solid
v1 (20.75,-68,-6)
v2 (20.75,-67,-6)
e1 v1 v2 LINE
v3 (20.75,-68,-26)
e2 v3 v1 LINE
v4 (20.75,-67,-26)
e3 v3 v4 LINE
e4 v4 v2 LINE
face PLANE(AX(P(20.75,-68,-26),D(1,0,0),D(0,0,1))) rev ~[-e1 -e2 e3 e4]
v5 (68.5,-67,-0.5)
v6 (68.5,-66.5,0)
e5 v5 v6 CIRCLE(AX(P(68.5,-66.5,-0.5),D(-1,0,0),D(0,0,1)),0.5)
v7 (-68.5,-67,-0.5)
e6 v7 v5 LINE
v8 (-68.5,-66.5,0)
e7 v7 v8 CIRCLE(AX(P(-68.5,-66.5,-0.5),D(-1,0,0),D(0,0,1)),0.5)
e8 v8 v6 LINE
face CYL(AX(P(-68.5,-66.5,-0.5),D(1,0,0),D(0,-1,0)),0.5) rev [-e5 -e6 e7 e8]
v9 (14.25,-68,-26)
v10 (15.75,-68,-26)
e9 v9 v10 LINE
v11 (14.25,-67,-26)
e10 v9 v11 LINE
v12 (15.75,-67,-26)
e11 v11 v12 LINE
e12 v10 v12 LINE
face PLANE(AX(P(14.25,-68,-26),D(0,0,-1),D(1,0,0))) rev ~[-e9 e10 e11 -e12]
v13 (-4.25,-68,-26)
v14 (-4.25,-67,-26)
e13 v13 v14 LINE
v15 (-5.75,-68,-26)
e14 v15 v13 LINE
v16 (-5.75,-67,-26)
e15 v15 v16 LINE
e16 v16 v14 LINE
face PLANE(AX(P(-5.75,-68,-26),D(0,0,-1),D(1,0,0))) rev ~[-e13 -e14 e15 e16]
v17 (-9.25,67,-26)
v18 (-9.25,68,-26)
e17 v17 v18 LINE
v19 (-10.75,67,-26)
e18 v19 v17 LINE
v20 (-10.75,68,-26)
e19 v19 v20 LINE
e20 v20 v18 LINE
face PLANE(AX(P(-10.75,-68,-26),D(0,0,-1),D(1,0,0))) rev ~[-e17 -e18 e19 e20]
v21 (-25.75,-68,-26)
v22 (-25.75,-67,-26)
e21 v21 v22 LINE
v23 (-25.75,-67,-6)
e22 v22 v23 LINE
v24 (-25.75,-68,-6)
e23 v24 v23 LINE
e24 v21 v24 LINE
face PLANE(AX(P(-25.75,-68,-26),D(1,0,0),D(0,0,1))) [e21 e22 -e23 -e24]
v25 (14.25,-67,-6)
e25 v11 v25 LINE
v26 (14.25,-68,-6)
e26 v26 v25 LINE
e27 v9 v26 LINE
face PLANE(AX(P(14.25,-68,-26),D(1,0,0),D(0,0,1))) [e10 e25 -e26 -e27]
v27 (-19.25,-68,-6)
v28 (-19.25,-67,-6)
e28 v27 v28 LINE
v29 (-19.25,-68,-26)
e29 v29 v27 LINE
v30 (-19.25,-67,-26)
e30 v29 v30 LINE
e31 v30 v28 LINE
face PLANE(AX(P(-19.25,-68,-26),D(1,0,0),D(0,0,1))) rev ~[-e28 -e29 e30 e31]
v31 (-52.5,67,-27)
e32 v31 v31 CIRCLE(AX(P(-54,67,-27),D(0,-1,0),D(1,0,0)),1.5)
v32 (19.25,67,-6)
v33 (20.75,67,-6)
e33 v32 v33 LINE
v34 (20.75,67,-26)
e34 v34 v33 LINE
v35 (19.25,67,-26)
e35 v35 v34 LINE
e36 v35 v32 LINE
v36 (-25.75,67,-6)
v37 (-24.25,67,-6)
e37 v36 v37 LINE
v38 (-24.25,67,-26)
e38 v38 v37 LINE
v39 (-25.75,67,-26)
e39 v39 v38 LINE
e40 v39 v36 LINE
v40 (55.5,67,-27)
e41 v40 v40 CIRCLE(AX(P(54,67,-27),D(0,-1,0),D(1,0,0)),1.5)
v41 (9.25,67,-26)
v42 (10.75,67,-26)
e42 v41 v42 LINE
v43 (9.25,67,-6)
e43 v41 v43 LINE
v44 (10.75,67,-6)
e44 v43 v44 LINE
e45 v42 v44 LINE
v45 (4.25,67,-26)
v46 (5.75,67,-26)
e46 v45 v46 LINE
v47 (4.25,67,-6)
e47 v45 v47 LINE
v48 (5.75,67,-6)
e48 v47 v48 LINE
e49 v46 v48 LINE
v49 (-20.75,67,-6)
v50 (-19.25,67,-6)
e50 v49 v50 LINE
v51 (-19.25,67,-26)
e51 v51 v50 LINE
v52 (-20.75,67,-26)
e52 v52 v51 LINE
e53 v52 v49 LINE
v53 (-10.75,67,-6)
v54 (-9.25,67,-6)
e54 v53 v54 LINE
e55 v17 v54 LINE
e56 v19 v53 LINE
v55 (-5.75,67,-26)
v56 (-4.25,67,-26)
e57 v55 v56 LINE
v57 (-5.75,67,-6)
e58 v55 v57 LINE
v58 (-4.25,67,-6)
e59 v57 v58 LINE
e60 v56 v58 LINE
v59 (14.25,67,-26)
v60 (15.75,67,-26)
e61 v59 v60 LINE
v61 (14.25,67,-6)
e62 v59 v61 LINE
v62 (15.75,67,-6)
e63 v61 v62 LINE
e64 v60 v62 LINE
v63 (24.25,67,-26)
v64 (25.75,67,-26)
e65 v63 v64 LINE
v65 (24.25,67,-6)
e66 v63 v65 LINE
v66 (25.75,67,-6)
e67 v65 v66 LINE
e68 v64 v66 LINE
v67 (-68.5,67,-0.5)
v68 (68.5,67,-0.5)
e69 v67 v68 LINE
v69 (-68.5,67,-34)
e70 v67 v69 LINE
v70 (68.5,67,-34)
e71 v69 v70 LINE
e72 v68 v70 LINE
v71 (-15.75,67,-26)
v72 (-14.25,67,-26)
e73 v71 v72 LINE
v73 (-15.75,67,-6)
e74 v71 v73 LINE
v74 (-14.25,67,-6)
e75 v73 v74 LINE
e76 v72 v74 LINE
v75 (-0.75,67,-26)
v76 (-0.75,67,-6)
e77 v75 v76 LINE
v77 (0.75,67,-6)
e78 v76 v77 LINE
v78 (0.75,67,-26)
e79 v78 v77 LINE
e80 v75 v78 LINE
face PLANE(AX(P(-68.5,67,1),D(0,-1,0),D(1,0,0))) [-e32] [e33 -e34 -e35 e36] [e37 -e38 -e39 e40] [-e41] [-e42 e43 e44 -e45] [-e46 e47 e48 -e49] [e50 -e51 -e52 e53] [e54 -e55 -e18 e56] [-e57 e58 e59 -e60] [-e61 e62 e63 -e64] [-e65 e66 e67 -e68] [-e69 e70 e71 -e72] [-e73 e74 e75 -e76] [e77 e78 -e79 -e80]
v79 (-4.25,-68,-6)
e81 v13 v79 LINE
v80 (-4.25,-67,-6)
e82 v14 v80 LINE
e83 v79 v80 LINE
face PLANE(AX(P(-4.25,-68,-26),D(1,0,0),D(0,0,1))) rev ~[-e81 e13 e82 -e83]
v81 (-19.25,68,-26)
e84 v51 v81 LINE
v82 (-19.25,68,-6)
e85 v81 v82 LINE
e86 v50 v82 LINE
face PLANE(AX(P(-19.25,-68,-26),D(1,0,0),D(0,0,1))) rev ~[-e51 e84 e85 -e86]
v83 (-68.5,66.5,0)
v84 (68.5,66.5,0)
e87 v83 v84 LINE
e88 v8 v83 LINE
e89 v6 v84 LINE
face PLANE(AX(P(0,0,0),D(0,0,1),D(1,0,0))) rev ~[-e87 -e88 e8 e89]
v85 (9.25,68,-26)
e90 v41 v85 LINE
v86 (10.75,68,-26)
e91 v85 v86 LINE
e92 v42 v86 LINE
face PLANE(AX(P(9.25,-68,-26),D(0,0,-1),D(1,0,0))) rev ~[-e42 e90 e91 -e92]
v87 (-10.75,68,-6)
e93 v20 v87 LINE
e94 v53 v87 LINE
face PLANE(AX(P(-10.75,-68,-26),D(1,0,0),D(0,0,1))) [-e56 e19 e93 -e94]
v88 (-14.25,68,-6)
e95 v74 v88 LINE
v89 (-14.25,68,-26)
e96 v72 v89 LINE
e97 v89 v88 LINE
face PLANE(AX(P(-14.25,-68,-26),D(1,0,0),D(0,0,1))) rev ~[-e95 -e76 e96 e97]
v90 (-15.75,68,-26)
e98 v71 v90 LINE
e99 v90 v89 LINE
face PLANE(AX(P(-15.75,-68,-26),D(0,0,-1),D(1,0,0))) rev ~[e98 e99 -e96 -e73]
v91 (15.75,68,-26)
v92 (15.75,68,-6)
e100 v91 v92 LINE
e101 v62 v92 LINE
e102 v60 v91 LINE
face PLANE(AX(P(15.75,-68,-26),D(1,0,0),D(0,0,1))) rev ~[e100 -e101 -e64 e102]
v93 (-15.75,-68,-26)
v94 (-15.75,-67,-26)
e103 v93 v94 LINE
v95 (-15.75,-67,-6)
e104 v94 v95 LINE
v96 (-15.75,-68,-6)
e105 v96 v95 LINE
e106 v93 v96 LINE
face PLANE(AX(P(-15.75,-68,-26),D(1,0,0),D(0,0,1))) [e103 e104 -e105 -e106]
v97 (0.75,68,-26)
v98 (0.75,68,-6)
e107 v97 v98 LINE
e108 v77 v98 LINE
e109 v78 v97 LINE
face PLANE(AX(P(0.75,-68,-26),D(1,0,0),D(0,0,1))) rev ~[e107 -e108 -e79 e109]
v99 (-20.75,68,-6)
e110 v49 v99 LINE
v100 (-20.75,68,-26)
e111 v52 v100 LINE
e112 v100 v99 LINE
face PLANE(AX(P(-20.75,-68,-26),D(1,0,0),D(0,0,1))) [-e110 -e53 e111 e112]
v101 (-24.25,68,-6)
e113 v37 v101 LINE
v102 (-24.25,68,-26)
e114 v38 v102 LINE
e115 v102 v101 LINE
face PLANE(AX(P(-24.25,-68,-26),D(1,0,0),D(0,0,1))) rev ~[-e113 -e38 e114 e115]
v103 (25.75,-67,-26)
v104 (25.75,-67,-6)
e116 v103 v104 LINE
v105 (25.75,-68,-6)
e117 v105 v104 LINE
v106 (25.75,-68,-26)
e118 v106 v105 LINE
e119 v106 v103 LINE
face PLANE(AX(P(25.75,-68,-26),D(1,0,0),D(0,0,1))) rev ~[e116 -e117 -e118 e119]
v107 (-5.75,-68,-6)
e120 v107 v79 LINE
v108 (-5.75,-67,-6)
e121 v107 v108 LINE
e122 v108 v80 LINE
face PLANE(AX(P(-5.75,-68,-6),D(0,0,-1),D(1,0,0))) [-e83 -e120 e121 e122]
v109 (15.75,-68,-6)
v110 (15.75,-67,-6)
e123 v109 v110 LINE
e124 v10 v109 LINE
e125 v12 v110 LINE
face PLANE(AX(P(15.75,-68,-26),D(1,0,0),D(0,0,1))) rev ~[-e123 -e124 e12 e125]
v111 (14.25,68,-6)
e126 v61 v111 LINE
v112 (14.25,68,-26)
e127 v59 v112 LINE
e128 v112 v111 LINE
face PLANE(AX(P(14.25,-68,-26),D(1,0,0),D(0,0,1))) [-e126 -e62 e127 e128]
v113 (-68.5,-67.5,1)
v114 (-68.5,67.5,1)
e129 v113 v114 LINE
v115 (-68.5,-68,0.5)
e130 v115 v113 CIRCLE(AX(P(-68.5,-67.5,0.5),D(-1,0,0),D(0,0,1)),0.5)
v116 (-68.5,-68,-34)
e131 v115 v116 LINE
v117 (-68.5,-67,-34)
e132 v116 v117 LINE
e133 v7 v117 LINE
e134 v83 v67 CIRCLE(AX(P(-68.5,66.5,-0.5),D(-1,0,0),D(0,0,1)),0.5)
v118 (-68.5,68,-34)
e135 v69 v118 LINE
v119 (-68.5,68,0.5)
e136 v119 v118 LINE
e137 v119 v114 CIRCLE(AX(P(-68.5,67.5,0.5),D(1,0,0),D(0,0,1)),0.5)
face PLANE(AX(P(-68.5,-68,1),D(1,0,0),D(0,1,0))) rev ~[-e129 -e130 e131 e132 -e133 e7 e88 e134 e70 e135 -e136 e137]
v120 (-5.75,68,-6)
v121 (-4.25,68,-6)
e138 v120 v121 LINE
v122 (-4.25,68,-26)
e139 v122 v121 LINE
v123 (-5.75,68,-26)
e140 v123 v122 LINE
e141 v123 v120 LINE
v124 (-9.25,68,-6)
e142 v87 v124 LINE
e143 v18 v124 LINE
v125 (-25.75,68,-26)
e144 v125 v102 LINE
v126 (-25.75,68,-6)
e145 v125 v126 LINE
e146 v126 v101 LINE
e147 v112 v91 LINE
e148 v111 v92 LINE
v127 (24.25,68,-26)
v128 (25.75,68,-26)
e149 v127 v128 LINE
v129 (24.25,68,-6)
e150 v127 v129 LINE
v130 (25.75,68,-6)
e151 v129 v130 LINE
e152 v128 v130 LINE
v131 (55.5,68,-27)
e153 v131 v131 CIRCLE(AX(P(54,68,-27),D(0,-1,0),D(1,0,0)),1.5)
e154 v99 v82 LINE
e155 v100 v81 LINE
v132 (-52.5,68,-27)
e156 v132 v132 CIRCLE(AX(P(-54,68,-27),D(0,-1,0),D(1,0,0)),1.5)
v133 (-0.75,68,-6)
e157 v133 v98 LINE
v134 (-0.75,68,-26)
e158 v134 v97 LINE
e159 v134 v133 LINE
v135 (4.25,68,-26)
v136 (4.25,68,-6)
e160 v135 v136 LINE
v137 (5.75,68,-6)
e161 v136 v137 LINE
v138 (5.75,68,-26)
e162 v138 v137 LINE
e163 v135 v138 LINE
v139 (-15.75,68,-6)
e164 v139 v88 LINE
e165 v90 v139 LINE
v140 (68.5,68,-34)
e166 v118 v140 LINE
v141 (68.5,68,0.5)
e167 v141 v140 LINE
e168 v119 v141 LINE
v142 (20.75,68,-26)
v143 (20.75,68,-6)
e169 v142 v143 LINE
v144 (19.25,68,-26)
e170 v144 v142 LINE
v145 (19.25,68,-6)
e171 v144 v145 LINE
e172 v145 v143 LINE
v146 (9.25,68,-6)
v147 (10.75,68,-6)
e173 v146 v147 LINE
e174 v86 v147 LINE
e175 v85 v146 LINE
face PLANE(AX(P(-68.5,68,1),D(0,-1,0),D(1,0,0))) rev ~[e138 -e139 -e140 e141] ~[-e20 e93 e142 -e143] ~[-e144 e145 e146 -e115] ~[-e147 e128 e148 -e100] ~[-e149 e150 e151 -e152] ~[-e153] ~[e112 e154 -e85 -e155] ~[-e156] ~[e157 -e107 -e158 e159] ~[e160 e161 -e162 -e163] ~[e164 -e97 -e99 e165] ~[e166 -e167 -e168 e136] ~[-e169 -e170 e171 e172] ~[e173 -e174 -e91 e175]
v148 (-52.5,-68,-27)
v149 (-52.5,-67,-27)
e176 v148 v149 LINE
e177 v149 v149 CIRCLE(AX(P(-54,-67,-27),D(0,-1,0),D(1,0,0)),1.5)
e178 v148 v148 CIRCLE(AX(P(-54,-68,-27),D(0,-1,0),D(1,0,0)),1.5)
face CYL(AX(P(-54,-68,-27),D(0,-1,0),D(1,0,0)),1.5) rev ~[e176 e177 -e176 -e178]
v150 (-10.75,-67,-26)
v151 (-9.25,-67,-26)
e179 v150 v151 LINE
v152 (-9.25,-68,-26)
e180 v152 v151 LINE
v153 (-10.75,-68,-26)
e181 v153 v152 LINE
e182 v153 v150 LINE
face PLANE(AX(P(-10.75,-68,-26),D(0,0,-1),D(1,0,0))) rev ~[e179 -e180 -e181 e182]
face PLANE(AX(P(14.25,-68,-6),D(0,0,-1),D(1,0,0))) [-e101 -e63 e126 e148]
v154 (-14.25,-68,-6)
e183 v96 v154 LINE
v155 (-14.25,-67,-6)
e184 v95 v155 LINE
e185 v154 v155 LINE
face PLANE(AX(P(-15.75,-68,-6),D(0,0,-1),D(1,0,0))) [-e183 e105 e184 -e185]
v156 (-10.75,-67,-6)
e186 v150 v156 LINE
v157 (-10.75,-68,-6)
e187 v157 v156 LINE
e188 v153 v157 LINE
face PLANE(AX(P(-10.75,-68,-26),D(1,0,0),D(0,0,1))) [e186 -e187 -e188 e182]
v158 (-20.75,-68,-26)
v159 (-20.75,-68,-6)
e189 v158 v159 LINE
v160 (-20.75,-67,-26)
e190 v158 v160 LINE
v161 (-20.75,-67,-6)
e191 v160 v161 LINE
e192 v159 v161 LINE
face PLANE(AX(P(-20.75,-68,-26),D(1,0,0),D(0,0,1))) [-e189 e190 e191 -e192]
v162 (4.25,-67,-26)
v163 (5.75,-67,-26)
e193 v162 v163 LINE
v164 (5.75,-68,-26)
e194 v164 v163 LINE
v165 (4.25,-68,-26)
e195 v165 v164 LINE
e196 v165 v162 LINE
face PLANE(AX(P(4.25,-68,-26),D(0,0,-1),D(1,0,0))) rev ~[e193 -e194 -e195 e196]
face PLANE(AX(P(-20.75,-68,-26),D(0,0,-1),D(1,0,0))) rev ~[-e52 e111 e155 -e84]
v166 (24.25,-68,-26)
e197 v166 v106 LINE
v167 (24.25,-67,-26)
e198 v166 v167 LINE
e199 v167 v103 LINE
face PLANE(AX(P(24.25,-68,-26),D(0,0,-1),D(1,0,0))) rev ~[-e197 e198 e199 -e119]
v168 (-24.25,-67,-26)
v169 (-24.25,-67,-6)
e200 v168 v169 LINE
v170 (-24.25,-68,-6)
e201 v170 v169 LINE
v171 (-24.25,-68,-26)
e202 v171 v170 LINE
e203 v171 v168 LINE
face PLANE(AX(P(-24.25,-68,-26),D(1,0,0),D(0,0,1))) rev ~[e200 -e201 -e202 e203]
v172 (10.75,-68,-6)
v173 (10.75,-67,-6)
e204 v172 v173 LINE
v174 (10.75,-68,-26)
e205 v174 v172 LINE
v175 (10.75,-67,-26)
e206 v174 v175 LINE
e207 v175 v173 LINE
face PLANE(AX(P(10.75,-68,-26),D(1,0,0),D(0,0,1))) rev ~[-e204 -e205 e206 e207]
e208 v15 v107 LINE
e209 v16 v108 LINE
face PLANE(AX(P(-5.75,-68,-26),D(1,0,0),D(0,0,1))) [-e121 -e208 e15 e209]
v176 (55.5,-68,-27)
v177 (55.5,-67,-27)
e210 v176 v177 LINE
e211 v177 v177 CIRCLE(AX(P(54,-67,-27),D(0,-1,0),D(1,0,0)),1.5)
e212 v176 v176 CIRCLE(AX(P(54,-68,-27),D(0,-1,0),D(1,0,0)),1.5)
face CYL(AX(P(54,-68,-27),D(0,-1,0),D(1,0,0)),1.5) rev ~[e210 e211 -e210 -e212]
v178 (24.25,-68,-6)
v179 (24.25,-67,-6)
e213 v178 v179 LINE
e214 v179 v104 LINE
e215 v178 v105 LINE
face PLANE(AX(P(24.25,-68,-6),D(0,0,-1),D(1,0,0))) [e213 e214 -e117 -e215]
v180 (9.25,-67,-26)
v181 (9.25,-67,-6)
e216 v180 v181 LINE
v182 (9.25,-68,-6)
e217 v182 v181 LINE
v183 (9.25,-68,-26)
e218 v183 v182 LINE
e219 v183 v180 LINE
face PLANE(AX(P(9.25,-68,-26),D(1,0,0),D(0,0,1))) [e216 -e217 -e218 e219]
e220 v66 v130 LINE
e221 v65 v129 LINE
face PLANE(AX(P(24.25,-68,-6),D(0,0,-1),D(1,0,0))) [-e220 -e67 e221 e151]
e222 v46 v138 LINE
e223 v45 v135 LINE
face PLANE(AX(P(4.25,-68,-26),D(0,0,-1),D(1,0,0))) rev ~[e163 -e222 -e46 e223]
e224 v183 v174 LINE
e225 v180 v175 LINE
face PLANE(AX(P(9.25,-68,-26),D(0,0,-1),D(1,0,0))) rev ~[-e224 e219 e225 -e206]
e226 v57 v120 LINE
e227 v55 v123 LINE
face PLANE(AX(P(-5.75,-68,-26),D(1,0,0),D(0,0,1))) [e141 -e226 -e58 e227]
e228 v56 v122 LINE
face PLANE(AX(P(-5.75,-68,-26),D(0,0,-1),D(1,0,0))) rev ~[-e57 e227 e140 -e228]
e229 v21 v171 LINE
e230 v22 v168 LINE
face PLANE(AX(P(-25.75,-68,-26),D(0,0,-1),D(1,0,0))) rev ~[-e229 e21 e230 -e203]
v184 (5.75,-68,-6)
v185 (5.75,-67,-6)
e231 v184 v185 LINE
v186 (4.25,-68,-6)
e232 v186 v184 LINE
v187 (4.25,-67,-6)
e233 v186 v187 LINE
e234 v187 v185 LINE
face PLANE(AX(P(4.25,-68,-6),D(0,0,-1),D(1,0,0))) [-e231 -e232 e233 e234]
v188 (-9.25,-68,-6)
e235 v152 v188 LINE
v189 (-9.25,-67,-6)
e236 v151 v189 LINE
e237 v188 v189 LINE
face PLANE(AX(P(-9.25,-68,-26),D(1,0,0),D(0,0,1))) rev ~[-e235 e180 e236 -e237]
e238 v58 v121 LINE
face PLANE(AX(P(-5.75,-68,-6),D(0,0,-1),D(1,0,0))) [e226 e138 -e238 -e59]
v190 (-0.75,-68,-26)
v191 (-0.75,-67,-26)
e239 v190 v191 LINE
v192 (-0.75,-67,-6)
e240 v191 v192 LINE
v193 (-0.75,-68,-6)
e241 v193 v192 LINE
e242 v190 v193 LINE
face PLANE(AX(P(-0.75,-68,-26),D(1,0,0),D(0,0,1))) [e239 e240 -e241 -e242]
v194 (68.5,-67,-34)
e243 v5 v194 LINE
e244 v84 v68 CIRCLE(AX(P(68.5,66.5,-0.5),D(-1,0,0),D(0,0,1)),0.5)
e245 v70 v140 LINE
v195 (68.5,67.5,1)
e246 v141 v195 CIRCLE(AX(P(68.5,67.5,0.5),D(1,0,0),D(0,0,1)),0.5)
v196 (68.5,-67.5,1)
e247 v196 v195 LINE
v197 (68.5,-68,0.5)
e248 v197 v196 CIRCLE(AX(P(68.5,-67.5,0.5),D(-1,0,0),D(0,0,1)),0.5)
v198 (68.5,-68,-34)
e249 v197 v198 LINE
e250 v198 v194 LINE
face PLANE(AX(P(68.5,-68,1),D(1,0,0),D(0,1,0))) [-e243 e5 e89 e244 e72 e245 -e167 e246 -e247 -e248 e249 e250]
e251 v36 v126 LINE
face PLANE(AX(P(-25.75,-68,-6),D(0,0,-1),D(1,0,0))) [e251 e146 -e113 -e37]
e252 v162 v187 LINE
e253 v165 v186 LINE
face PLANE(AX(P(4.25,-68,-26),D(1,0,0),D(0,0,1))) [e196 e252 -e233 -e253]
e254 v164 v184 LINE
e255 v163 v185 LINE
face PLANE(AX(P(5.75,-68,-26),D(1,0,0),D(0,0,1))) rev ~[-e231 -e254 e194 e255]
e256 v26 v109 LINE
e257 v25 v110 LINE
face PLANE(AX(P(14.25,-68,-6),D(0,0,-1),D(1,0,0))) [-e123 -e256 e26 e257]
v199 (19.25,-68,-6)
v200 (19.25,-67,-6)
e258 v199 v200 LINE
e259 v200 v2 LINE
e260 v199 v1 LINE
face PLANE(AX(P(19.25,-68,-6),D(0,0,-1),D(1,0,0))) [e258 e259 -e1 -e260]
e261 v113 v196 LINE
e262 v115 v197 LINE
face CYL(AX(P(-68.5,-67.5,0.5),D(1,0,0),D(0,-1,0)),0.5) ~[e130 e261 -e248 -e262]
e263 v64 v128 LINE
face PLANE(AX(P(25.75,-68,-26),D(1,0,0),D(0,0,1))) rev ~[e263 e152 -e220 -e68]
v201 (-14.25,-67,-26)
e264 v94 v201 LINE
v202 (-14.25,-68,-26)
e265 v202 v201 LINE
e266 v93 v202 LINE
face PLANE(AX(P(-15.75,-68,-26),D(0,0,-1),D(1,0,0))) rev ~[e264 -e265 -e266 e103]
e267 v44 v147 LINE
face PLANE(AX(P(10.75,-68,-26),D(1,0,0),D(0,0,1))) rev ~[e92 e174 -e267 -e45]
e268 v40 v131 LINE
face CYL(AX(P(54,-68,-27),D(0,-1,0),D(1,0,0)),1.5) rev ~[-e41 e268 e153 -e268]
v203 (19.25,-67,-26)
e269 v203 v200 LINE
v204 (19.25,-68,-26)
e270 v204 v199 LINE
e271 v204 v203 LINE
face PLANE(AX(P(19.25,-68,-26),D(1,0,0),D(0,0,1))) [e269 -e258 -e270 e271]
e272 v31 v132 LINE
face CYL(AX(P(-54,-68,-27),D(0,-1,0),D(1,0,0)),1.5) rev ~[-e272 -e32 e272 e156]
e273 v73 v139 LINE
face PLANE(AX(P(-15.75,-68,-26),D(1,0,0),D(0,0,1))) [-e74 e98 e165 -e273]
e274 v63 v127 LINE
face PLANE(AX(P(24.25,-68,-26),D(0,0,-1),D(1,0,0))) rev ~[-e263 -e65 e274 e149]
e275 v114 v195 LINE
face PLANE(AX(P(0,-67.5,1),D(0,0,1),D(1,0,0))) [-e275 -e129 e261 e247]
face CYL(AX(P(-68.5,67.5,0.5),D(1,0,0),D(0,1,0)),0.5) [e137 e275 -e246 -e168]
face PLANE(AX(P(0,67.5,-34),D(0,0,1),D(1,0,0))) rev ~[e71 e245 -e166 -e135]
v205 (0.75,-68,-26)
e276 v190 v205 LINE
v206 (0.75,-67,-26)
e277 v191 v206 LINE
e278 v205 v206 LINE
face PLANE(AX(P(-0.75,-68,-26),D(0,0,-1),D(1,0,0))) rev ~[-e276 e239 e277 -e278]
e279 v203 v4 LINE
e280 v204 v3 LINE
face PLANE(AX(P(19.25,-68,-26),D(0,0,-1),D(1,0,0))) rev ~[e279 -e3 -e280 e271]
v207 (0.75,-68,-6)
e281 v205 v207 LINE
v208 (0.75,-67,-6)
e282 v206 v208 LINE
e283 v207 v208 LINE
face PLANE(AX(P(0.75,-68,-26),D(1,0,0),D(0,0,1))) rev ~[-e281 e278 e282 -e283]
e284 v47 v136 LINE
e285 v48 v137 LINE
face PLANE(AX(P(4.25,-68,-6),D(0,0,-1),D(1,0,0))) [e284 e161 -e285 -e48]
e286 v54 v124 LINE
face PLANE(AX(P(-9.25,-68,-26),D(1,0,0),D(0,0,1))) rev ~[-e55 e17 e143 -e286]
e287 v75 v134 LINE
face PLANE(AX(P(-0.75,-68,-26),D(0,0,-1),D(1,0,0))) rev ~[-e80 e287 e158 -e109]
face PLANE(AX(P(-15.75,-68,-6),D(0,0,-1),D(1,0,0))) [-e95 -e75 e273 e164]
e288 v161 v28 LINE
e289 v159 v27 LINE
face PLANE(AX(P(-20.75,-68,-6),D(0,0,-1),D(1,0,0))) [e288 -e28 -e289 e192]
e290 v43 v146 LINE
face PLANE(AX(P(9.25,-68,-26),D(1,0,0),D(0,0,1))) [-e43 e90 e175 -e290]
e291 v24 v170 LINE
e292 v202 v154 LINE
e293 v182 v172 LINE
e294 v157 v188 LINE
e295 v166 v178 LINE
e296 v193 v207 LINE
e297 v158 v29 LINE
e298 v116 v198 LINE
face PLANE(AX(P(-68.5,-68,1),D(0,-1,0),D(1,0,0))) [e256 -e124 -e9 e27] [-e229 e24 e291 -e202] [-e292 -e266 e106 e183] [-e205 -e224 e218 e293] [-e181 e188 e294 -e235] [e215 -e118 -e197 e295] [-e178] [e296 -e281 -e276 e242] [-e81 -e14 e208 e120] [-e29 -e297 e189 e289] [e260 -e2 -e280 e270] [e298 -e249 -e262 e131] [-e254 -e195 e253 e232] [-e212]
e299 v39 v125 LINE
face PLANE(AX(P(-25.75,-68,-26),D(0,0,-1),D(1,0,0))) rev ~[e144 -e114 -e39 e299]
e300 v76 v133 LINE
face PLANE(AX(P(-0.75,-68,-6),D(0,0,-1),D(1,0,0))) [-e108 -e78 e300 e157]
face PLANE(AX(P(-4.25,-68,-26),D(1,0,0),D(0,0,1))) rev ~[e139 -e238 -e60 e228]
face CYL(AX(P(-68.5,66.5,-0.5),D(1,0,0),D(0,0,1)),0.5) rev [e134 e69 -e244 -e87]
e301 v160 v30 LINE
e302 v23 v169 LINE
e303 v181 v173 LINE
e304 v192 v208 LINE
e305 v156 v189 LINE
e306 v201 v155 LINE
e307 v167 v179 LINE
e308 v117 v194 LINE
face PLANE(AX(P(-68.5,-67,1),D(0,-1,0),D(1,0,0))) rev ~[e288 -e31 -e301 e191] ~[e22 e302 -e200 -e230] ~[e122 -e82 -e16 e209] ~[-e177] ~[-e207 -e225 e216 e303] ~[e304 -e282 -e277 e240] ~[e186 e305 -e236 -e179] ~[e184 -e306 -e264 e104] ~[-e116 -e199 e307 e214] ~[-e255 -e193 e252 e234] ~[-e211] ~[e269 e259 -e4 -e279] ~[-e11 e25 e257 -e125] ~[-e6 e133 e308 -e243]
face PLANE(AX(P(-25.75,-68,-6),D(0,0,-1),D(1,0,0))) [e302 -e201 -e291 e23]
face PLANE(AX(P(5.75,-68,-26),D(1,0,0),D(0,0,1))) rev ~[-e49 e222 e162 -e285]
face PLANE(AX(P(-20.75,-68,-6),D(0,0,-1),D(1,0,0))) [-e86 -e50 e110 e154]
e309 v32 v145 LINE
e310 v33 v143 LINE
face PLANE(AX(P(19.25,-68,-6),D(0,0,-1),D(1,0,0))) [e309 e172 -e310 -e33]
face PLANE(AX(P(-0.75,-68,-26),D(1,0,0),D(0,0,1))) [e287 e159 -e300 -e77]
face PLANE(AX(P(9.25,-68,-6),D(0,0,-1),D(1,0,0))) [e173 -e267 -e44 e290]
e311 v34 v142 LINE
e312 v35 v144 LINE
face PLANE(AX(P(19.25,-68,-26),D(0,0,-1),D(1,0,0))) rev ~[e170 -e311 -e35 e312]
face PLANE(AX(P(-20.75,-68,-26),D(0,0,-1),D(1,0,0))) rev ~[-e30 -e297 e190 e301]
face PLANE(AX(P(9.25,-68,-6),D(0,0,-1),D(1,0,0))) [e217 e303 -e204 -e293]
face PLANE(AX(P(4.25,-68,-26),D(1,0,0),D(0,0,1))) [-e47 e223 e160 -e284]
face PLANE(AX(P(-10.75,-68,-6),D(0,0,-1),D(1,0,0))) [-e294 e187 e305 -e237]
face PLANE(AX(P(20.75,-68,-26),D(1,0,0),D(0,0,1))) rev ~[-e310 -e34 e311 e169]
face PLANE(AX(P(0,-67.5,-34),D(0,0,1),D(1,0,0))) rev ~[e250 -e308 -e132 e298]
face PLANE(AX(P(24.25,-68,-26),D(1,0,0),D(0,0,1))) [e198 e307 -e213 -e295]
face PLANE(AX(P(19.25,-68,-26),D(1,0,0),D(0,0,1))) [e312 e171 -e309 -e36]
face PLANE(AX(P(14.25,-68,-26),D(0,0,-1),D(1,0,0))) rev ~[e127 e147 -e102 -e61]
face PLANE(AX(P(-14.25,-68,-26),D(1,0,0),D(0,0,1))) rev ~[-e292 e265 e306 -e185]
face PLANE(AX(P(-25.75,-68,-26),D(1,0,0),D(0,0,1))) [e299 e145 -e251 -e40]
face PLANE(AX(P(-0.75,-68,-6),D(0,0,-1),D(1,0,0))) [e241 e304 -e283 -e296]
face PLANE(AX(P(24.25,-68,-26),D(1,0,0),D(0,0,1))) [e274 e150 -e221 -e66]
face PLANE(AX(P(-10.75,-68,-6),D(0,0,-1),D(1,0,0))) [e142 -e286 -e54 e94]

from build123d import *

# Parameters (mm, degrees)
F0_W     = 137
F0_H     = 134
F1_DEPTH = 1
F2_W     = 137
F2_H     = 1
F3_DEPTH = 35
F4_R     = 1.5
F4_W     = 1.5
F4_H     = 20
F5_DEPTH = 136.001
F6_R     = 0.5


with BuildPart() as f1:
    # F0 (on Top) → F1 (new body)
    with BuildSketch(Plane.XY):
        Rectangle(F0_W, F0_H)
    extrude(amount=F1_DEPTH)

    # F2 (on face) → F3 (join)
    with BuildSketch(Plane.XY.offset(1)):
        with Locations((0, -67.5)):
            Rectangle(F2_W, F2_H)
        with Locations((0, 67.5)):
            Rectangle(F2_W, F2_H)
    extrude(amount=-F3_DEPTH)

    # F4 (on face) → F5 (cut, through all)
    with BuildSketch(Plane.XZ.offset(68)):
        with Locations((-54, -27)):
            Circle(F4_R)
        with Locations((54, -27)):
            Circle(F4_R)
        with Locations((-25, -16)):
            Rectangle(F4_W, F4_H)
        with Locations((-20, -16)):
            Rectangle(F4_W, F4_H)
        with Locations((-15, -16)):
            Rectangle(F4_W, F4_H)
        with Locations((-10, -16)):
            Rectangle(F4_W, F4_H)
        with Locations((-5, -16)):
            Rectangle(F4_W, F4_H)
        with Locations((0, -16)):
            Rectangle(F4_W, F4_H)
        with Locations((5, -16)):
            Rectangle(F4_W, F4_H)
        with Locations((10, -16)):
            Rectangle(F4_W, F4_H)
        with Locations((15, -16)):
            Rectangle(F4_W, F4_H)
        with Locations((20, -16)):
            Rectangle(F4_W, F4_H)
        with Locations((25, -16)):
            Rectangle(F4_W, F4_H)
    extrude(amount=-F5_DEPTH, mode=Mode.SUBTRACT)

    # F6
    f6_edges = [f1.edges().sort_by_distance(p)[0] for p in [
        (0, -68, 1),
        (0, 68, 1),
        (0, -67, 0),
        (0, 67, 0),
    ]]
    fillet(f6_edges, radius=F6_R)


solid = f1.part
